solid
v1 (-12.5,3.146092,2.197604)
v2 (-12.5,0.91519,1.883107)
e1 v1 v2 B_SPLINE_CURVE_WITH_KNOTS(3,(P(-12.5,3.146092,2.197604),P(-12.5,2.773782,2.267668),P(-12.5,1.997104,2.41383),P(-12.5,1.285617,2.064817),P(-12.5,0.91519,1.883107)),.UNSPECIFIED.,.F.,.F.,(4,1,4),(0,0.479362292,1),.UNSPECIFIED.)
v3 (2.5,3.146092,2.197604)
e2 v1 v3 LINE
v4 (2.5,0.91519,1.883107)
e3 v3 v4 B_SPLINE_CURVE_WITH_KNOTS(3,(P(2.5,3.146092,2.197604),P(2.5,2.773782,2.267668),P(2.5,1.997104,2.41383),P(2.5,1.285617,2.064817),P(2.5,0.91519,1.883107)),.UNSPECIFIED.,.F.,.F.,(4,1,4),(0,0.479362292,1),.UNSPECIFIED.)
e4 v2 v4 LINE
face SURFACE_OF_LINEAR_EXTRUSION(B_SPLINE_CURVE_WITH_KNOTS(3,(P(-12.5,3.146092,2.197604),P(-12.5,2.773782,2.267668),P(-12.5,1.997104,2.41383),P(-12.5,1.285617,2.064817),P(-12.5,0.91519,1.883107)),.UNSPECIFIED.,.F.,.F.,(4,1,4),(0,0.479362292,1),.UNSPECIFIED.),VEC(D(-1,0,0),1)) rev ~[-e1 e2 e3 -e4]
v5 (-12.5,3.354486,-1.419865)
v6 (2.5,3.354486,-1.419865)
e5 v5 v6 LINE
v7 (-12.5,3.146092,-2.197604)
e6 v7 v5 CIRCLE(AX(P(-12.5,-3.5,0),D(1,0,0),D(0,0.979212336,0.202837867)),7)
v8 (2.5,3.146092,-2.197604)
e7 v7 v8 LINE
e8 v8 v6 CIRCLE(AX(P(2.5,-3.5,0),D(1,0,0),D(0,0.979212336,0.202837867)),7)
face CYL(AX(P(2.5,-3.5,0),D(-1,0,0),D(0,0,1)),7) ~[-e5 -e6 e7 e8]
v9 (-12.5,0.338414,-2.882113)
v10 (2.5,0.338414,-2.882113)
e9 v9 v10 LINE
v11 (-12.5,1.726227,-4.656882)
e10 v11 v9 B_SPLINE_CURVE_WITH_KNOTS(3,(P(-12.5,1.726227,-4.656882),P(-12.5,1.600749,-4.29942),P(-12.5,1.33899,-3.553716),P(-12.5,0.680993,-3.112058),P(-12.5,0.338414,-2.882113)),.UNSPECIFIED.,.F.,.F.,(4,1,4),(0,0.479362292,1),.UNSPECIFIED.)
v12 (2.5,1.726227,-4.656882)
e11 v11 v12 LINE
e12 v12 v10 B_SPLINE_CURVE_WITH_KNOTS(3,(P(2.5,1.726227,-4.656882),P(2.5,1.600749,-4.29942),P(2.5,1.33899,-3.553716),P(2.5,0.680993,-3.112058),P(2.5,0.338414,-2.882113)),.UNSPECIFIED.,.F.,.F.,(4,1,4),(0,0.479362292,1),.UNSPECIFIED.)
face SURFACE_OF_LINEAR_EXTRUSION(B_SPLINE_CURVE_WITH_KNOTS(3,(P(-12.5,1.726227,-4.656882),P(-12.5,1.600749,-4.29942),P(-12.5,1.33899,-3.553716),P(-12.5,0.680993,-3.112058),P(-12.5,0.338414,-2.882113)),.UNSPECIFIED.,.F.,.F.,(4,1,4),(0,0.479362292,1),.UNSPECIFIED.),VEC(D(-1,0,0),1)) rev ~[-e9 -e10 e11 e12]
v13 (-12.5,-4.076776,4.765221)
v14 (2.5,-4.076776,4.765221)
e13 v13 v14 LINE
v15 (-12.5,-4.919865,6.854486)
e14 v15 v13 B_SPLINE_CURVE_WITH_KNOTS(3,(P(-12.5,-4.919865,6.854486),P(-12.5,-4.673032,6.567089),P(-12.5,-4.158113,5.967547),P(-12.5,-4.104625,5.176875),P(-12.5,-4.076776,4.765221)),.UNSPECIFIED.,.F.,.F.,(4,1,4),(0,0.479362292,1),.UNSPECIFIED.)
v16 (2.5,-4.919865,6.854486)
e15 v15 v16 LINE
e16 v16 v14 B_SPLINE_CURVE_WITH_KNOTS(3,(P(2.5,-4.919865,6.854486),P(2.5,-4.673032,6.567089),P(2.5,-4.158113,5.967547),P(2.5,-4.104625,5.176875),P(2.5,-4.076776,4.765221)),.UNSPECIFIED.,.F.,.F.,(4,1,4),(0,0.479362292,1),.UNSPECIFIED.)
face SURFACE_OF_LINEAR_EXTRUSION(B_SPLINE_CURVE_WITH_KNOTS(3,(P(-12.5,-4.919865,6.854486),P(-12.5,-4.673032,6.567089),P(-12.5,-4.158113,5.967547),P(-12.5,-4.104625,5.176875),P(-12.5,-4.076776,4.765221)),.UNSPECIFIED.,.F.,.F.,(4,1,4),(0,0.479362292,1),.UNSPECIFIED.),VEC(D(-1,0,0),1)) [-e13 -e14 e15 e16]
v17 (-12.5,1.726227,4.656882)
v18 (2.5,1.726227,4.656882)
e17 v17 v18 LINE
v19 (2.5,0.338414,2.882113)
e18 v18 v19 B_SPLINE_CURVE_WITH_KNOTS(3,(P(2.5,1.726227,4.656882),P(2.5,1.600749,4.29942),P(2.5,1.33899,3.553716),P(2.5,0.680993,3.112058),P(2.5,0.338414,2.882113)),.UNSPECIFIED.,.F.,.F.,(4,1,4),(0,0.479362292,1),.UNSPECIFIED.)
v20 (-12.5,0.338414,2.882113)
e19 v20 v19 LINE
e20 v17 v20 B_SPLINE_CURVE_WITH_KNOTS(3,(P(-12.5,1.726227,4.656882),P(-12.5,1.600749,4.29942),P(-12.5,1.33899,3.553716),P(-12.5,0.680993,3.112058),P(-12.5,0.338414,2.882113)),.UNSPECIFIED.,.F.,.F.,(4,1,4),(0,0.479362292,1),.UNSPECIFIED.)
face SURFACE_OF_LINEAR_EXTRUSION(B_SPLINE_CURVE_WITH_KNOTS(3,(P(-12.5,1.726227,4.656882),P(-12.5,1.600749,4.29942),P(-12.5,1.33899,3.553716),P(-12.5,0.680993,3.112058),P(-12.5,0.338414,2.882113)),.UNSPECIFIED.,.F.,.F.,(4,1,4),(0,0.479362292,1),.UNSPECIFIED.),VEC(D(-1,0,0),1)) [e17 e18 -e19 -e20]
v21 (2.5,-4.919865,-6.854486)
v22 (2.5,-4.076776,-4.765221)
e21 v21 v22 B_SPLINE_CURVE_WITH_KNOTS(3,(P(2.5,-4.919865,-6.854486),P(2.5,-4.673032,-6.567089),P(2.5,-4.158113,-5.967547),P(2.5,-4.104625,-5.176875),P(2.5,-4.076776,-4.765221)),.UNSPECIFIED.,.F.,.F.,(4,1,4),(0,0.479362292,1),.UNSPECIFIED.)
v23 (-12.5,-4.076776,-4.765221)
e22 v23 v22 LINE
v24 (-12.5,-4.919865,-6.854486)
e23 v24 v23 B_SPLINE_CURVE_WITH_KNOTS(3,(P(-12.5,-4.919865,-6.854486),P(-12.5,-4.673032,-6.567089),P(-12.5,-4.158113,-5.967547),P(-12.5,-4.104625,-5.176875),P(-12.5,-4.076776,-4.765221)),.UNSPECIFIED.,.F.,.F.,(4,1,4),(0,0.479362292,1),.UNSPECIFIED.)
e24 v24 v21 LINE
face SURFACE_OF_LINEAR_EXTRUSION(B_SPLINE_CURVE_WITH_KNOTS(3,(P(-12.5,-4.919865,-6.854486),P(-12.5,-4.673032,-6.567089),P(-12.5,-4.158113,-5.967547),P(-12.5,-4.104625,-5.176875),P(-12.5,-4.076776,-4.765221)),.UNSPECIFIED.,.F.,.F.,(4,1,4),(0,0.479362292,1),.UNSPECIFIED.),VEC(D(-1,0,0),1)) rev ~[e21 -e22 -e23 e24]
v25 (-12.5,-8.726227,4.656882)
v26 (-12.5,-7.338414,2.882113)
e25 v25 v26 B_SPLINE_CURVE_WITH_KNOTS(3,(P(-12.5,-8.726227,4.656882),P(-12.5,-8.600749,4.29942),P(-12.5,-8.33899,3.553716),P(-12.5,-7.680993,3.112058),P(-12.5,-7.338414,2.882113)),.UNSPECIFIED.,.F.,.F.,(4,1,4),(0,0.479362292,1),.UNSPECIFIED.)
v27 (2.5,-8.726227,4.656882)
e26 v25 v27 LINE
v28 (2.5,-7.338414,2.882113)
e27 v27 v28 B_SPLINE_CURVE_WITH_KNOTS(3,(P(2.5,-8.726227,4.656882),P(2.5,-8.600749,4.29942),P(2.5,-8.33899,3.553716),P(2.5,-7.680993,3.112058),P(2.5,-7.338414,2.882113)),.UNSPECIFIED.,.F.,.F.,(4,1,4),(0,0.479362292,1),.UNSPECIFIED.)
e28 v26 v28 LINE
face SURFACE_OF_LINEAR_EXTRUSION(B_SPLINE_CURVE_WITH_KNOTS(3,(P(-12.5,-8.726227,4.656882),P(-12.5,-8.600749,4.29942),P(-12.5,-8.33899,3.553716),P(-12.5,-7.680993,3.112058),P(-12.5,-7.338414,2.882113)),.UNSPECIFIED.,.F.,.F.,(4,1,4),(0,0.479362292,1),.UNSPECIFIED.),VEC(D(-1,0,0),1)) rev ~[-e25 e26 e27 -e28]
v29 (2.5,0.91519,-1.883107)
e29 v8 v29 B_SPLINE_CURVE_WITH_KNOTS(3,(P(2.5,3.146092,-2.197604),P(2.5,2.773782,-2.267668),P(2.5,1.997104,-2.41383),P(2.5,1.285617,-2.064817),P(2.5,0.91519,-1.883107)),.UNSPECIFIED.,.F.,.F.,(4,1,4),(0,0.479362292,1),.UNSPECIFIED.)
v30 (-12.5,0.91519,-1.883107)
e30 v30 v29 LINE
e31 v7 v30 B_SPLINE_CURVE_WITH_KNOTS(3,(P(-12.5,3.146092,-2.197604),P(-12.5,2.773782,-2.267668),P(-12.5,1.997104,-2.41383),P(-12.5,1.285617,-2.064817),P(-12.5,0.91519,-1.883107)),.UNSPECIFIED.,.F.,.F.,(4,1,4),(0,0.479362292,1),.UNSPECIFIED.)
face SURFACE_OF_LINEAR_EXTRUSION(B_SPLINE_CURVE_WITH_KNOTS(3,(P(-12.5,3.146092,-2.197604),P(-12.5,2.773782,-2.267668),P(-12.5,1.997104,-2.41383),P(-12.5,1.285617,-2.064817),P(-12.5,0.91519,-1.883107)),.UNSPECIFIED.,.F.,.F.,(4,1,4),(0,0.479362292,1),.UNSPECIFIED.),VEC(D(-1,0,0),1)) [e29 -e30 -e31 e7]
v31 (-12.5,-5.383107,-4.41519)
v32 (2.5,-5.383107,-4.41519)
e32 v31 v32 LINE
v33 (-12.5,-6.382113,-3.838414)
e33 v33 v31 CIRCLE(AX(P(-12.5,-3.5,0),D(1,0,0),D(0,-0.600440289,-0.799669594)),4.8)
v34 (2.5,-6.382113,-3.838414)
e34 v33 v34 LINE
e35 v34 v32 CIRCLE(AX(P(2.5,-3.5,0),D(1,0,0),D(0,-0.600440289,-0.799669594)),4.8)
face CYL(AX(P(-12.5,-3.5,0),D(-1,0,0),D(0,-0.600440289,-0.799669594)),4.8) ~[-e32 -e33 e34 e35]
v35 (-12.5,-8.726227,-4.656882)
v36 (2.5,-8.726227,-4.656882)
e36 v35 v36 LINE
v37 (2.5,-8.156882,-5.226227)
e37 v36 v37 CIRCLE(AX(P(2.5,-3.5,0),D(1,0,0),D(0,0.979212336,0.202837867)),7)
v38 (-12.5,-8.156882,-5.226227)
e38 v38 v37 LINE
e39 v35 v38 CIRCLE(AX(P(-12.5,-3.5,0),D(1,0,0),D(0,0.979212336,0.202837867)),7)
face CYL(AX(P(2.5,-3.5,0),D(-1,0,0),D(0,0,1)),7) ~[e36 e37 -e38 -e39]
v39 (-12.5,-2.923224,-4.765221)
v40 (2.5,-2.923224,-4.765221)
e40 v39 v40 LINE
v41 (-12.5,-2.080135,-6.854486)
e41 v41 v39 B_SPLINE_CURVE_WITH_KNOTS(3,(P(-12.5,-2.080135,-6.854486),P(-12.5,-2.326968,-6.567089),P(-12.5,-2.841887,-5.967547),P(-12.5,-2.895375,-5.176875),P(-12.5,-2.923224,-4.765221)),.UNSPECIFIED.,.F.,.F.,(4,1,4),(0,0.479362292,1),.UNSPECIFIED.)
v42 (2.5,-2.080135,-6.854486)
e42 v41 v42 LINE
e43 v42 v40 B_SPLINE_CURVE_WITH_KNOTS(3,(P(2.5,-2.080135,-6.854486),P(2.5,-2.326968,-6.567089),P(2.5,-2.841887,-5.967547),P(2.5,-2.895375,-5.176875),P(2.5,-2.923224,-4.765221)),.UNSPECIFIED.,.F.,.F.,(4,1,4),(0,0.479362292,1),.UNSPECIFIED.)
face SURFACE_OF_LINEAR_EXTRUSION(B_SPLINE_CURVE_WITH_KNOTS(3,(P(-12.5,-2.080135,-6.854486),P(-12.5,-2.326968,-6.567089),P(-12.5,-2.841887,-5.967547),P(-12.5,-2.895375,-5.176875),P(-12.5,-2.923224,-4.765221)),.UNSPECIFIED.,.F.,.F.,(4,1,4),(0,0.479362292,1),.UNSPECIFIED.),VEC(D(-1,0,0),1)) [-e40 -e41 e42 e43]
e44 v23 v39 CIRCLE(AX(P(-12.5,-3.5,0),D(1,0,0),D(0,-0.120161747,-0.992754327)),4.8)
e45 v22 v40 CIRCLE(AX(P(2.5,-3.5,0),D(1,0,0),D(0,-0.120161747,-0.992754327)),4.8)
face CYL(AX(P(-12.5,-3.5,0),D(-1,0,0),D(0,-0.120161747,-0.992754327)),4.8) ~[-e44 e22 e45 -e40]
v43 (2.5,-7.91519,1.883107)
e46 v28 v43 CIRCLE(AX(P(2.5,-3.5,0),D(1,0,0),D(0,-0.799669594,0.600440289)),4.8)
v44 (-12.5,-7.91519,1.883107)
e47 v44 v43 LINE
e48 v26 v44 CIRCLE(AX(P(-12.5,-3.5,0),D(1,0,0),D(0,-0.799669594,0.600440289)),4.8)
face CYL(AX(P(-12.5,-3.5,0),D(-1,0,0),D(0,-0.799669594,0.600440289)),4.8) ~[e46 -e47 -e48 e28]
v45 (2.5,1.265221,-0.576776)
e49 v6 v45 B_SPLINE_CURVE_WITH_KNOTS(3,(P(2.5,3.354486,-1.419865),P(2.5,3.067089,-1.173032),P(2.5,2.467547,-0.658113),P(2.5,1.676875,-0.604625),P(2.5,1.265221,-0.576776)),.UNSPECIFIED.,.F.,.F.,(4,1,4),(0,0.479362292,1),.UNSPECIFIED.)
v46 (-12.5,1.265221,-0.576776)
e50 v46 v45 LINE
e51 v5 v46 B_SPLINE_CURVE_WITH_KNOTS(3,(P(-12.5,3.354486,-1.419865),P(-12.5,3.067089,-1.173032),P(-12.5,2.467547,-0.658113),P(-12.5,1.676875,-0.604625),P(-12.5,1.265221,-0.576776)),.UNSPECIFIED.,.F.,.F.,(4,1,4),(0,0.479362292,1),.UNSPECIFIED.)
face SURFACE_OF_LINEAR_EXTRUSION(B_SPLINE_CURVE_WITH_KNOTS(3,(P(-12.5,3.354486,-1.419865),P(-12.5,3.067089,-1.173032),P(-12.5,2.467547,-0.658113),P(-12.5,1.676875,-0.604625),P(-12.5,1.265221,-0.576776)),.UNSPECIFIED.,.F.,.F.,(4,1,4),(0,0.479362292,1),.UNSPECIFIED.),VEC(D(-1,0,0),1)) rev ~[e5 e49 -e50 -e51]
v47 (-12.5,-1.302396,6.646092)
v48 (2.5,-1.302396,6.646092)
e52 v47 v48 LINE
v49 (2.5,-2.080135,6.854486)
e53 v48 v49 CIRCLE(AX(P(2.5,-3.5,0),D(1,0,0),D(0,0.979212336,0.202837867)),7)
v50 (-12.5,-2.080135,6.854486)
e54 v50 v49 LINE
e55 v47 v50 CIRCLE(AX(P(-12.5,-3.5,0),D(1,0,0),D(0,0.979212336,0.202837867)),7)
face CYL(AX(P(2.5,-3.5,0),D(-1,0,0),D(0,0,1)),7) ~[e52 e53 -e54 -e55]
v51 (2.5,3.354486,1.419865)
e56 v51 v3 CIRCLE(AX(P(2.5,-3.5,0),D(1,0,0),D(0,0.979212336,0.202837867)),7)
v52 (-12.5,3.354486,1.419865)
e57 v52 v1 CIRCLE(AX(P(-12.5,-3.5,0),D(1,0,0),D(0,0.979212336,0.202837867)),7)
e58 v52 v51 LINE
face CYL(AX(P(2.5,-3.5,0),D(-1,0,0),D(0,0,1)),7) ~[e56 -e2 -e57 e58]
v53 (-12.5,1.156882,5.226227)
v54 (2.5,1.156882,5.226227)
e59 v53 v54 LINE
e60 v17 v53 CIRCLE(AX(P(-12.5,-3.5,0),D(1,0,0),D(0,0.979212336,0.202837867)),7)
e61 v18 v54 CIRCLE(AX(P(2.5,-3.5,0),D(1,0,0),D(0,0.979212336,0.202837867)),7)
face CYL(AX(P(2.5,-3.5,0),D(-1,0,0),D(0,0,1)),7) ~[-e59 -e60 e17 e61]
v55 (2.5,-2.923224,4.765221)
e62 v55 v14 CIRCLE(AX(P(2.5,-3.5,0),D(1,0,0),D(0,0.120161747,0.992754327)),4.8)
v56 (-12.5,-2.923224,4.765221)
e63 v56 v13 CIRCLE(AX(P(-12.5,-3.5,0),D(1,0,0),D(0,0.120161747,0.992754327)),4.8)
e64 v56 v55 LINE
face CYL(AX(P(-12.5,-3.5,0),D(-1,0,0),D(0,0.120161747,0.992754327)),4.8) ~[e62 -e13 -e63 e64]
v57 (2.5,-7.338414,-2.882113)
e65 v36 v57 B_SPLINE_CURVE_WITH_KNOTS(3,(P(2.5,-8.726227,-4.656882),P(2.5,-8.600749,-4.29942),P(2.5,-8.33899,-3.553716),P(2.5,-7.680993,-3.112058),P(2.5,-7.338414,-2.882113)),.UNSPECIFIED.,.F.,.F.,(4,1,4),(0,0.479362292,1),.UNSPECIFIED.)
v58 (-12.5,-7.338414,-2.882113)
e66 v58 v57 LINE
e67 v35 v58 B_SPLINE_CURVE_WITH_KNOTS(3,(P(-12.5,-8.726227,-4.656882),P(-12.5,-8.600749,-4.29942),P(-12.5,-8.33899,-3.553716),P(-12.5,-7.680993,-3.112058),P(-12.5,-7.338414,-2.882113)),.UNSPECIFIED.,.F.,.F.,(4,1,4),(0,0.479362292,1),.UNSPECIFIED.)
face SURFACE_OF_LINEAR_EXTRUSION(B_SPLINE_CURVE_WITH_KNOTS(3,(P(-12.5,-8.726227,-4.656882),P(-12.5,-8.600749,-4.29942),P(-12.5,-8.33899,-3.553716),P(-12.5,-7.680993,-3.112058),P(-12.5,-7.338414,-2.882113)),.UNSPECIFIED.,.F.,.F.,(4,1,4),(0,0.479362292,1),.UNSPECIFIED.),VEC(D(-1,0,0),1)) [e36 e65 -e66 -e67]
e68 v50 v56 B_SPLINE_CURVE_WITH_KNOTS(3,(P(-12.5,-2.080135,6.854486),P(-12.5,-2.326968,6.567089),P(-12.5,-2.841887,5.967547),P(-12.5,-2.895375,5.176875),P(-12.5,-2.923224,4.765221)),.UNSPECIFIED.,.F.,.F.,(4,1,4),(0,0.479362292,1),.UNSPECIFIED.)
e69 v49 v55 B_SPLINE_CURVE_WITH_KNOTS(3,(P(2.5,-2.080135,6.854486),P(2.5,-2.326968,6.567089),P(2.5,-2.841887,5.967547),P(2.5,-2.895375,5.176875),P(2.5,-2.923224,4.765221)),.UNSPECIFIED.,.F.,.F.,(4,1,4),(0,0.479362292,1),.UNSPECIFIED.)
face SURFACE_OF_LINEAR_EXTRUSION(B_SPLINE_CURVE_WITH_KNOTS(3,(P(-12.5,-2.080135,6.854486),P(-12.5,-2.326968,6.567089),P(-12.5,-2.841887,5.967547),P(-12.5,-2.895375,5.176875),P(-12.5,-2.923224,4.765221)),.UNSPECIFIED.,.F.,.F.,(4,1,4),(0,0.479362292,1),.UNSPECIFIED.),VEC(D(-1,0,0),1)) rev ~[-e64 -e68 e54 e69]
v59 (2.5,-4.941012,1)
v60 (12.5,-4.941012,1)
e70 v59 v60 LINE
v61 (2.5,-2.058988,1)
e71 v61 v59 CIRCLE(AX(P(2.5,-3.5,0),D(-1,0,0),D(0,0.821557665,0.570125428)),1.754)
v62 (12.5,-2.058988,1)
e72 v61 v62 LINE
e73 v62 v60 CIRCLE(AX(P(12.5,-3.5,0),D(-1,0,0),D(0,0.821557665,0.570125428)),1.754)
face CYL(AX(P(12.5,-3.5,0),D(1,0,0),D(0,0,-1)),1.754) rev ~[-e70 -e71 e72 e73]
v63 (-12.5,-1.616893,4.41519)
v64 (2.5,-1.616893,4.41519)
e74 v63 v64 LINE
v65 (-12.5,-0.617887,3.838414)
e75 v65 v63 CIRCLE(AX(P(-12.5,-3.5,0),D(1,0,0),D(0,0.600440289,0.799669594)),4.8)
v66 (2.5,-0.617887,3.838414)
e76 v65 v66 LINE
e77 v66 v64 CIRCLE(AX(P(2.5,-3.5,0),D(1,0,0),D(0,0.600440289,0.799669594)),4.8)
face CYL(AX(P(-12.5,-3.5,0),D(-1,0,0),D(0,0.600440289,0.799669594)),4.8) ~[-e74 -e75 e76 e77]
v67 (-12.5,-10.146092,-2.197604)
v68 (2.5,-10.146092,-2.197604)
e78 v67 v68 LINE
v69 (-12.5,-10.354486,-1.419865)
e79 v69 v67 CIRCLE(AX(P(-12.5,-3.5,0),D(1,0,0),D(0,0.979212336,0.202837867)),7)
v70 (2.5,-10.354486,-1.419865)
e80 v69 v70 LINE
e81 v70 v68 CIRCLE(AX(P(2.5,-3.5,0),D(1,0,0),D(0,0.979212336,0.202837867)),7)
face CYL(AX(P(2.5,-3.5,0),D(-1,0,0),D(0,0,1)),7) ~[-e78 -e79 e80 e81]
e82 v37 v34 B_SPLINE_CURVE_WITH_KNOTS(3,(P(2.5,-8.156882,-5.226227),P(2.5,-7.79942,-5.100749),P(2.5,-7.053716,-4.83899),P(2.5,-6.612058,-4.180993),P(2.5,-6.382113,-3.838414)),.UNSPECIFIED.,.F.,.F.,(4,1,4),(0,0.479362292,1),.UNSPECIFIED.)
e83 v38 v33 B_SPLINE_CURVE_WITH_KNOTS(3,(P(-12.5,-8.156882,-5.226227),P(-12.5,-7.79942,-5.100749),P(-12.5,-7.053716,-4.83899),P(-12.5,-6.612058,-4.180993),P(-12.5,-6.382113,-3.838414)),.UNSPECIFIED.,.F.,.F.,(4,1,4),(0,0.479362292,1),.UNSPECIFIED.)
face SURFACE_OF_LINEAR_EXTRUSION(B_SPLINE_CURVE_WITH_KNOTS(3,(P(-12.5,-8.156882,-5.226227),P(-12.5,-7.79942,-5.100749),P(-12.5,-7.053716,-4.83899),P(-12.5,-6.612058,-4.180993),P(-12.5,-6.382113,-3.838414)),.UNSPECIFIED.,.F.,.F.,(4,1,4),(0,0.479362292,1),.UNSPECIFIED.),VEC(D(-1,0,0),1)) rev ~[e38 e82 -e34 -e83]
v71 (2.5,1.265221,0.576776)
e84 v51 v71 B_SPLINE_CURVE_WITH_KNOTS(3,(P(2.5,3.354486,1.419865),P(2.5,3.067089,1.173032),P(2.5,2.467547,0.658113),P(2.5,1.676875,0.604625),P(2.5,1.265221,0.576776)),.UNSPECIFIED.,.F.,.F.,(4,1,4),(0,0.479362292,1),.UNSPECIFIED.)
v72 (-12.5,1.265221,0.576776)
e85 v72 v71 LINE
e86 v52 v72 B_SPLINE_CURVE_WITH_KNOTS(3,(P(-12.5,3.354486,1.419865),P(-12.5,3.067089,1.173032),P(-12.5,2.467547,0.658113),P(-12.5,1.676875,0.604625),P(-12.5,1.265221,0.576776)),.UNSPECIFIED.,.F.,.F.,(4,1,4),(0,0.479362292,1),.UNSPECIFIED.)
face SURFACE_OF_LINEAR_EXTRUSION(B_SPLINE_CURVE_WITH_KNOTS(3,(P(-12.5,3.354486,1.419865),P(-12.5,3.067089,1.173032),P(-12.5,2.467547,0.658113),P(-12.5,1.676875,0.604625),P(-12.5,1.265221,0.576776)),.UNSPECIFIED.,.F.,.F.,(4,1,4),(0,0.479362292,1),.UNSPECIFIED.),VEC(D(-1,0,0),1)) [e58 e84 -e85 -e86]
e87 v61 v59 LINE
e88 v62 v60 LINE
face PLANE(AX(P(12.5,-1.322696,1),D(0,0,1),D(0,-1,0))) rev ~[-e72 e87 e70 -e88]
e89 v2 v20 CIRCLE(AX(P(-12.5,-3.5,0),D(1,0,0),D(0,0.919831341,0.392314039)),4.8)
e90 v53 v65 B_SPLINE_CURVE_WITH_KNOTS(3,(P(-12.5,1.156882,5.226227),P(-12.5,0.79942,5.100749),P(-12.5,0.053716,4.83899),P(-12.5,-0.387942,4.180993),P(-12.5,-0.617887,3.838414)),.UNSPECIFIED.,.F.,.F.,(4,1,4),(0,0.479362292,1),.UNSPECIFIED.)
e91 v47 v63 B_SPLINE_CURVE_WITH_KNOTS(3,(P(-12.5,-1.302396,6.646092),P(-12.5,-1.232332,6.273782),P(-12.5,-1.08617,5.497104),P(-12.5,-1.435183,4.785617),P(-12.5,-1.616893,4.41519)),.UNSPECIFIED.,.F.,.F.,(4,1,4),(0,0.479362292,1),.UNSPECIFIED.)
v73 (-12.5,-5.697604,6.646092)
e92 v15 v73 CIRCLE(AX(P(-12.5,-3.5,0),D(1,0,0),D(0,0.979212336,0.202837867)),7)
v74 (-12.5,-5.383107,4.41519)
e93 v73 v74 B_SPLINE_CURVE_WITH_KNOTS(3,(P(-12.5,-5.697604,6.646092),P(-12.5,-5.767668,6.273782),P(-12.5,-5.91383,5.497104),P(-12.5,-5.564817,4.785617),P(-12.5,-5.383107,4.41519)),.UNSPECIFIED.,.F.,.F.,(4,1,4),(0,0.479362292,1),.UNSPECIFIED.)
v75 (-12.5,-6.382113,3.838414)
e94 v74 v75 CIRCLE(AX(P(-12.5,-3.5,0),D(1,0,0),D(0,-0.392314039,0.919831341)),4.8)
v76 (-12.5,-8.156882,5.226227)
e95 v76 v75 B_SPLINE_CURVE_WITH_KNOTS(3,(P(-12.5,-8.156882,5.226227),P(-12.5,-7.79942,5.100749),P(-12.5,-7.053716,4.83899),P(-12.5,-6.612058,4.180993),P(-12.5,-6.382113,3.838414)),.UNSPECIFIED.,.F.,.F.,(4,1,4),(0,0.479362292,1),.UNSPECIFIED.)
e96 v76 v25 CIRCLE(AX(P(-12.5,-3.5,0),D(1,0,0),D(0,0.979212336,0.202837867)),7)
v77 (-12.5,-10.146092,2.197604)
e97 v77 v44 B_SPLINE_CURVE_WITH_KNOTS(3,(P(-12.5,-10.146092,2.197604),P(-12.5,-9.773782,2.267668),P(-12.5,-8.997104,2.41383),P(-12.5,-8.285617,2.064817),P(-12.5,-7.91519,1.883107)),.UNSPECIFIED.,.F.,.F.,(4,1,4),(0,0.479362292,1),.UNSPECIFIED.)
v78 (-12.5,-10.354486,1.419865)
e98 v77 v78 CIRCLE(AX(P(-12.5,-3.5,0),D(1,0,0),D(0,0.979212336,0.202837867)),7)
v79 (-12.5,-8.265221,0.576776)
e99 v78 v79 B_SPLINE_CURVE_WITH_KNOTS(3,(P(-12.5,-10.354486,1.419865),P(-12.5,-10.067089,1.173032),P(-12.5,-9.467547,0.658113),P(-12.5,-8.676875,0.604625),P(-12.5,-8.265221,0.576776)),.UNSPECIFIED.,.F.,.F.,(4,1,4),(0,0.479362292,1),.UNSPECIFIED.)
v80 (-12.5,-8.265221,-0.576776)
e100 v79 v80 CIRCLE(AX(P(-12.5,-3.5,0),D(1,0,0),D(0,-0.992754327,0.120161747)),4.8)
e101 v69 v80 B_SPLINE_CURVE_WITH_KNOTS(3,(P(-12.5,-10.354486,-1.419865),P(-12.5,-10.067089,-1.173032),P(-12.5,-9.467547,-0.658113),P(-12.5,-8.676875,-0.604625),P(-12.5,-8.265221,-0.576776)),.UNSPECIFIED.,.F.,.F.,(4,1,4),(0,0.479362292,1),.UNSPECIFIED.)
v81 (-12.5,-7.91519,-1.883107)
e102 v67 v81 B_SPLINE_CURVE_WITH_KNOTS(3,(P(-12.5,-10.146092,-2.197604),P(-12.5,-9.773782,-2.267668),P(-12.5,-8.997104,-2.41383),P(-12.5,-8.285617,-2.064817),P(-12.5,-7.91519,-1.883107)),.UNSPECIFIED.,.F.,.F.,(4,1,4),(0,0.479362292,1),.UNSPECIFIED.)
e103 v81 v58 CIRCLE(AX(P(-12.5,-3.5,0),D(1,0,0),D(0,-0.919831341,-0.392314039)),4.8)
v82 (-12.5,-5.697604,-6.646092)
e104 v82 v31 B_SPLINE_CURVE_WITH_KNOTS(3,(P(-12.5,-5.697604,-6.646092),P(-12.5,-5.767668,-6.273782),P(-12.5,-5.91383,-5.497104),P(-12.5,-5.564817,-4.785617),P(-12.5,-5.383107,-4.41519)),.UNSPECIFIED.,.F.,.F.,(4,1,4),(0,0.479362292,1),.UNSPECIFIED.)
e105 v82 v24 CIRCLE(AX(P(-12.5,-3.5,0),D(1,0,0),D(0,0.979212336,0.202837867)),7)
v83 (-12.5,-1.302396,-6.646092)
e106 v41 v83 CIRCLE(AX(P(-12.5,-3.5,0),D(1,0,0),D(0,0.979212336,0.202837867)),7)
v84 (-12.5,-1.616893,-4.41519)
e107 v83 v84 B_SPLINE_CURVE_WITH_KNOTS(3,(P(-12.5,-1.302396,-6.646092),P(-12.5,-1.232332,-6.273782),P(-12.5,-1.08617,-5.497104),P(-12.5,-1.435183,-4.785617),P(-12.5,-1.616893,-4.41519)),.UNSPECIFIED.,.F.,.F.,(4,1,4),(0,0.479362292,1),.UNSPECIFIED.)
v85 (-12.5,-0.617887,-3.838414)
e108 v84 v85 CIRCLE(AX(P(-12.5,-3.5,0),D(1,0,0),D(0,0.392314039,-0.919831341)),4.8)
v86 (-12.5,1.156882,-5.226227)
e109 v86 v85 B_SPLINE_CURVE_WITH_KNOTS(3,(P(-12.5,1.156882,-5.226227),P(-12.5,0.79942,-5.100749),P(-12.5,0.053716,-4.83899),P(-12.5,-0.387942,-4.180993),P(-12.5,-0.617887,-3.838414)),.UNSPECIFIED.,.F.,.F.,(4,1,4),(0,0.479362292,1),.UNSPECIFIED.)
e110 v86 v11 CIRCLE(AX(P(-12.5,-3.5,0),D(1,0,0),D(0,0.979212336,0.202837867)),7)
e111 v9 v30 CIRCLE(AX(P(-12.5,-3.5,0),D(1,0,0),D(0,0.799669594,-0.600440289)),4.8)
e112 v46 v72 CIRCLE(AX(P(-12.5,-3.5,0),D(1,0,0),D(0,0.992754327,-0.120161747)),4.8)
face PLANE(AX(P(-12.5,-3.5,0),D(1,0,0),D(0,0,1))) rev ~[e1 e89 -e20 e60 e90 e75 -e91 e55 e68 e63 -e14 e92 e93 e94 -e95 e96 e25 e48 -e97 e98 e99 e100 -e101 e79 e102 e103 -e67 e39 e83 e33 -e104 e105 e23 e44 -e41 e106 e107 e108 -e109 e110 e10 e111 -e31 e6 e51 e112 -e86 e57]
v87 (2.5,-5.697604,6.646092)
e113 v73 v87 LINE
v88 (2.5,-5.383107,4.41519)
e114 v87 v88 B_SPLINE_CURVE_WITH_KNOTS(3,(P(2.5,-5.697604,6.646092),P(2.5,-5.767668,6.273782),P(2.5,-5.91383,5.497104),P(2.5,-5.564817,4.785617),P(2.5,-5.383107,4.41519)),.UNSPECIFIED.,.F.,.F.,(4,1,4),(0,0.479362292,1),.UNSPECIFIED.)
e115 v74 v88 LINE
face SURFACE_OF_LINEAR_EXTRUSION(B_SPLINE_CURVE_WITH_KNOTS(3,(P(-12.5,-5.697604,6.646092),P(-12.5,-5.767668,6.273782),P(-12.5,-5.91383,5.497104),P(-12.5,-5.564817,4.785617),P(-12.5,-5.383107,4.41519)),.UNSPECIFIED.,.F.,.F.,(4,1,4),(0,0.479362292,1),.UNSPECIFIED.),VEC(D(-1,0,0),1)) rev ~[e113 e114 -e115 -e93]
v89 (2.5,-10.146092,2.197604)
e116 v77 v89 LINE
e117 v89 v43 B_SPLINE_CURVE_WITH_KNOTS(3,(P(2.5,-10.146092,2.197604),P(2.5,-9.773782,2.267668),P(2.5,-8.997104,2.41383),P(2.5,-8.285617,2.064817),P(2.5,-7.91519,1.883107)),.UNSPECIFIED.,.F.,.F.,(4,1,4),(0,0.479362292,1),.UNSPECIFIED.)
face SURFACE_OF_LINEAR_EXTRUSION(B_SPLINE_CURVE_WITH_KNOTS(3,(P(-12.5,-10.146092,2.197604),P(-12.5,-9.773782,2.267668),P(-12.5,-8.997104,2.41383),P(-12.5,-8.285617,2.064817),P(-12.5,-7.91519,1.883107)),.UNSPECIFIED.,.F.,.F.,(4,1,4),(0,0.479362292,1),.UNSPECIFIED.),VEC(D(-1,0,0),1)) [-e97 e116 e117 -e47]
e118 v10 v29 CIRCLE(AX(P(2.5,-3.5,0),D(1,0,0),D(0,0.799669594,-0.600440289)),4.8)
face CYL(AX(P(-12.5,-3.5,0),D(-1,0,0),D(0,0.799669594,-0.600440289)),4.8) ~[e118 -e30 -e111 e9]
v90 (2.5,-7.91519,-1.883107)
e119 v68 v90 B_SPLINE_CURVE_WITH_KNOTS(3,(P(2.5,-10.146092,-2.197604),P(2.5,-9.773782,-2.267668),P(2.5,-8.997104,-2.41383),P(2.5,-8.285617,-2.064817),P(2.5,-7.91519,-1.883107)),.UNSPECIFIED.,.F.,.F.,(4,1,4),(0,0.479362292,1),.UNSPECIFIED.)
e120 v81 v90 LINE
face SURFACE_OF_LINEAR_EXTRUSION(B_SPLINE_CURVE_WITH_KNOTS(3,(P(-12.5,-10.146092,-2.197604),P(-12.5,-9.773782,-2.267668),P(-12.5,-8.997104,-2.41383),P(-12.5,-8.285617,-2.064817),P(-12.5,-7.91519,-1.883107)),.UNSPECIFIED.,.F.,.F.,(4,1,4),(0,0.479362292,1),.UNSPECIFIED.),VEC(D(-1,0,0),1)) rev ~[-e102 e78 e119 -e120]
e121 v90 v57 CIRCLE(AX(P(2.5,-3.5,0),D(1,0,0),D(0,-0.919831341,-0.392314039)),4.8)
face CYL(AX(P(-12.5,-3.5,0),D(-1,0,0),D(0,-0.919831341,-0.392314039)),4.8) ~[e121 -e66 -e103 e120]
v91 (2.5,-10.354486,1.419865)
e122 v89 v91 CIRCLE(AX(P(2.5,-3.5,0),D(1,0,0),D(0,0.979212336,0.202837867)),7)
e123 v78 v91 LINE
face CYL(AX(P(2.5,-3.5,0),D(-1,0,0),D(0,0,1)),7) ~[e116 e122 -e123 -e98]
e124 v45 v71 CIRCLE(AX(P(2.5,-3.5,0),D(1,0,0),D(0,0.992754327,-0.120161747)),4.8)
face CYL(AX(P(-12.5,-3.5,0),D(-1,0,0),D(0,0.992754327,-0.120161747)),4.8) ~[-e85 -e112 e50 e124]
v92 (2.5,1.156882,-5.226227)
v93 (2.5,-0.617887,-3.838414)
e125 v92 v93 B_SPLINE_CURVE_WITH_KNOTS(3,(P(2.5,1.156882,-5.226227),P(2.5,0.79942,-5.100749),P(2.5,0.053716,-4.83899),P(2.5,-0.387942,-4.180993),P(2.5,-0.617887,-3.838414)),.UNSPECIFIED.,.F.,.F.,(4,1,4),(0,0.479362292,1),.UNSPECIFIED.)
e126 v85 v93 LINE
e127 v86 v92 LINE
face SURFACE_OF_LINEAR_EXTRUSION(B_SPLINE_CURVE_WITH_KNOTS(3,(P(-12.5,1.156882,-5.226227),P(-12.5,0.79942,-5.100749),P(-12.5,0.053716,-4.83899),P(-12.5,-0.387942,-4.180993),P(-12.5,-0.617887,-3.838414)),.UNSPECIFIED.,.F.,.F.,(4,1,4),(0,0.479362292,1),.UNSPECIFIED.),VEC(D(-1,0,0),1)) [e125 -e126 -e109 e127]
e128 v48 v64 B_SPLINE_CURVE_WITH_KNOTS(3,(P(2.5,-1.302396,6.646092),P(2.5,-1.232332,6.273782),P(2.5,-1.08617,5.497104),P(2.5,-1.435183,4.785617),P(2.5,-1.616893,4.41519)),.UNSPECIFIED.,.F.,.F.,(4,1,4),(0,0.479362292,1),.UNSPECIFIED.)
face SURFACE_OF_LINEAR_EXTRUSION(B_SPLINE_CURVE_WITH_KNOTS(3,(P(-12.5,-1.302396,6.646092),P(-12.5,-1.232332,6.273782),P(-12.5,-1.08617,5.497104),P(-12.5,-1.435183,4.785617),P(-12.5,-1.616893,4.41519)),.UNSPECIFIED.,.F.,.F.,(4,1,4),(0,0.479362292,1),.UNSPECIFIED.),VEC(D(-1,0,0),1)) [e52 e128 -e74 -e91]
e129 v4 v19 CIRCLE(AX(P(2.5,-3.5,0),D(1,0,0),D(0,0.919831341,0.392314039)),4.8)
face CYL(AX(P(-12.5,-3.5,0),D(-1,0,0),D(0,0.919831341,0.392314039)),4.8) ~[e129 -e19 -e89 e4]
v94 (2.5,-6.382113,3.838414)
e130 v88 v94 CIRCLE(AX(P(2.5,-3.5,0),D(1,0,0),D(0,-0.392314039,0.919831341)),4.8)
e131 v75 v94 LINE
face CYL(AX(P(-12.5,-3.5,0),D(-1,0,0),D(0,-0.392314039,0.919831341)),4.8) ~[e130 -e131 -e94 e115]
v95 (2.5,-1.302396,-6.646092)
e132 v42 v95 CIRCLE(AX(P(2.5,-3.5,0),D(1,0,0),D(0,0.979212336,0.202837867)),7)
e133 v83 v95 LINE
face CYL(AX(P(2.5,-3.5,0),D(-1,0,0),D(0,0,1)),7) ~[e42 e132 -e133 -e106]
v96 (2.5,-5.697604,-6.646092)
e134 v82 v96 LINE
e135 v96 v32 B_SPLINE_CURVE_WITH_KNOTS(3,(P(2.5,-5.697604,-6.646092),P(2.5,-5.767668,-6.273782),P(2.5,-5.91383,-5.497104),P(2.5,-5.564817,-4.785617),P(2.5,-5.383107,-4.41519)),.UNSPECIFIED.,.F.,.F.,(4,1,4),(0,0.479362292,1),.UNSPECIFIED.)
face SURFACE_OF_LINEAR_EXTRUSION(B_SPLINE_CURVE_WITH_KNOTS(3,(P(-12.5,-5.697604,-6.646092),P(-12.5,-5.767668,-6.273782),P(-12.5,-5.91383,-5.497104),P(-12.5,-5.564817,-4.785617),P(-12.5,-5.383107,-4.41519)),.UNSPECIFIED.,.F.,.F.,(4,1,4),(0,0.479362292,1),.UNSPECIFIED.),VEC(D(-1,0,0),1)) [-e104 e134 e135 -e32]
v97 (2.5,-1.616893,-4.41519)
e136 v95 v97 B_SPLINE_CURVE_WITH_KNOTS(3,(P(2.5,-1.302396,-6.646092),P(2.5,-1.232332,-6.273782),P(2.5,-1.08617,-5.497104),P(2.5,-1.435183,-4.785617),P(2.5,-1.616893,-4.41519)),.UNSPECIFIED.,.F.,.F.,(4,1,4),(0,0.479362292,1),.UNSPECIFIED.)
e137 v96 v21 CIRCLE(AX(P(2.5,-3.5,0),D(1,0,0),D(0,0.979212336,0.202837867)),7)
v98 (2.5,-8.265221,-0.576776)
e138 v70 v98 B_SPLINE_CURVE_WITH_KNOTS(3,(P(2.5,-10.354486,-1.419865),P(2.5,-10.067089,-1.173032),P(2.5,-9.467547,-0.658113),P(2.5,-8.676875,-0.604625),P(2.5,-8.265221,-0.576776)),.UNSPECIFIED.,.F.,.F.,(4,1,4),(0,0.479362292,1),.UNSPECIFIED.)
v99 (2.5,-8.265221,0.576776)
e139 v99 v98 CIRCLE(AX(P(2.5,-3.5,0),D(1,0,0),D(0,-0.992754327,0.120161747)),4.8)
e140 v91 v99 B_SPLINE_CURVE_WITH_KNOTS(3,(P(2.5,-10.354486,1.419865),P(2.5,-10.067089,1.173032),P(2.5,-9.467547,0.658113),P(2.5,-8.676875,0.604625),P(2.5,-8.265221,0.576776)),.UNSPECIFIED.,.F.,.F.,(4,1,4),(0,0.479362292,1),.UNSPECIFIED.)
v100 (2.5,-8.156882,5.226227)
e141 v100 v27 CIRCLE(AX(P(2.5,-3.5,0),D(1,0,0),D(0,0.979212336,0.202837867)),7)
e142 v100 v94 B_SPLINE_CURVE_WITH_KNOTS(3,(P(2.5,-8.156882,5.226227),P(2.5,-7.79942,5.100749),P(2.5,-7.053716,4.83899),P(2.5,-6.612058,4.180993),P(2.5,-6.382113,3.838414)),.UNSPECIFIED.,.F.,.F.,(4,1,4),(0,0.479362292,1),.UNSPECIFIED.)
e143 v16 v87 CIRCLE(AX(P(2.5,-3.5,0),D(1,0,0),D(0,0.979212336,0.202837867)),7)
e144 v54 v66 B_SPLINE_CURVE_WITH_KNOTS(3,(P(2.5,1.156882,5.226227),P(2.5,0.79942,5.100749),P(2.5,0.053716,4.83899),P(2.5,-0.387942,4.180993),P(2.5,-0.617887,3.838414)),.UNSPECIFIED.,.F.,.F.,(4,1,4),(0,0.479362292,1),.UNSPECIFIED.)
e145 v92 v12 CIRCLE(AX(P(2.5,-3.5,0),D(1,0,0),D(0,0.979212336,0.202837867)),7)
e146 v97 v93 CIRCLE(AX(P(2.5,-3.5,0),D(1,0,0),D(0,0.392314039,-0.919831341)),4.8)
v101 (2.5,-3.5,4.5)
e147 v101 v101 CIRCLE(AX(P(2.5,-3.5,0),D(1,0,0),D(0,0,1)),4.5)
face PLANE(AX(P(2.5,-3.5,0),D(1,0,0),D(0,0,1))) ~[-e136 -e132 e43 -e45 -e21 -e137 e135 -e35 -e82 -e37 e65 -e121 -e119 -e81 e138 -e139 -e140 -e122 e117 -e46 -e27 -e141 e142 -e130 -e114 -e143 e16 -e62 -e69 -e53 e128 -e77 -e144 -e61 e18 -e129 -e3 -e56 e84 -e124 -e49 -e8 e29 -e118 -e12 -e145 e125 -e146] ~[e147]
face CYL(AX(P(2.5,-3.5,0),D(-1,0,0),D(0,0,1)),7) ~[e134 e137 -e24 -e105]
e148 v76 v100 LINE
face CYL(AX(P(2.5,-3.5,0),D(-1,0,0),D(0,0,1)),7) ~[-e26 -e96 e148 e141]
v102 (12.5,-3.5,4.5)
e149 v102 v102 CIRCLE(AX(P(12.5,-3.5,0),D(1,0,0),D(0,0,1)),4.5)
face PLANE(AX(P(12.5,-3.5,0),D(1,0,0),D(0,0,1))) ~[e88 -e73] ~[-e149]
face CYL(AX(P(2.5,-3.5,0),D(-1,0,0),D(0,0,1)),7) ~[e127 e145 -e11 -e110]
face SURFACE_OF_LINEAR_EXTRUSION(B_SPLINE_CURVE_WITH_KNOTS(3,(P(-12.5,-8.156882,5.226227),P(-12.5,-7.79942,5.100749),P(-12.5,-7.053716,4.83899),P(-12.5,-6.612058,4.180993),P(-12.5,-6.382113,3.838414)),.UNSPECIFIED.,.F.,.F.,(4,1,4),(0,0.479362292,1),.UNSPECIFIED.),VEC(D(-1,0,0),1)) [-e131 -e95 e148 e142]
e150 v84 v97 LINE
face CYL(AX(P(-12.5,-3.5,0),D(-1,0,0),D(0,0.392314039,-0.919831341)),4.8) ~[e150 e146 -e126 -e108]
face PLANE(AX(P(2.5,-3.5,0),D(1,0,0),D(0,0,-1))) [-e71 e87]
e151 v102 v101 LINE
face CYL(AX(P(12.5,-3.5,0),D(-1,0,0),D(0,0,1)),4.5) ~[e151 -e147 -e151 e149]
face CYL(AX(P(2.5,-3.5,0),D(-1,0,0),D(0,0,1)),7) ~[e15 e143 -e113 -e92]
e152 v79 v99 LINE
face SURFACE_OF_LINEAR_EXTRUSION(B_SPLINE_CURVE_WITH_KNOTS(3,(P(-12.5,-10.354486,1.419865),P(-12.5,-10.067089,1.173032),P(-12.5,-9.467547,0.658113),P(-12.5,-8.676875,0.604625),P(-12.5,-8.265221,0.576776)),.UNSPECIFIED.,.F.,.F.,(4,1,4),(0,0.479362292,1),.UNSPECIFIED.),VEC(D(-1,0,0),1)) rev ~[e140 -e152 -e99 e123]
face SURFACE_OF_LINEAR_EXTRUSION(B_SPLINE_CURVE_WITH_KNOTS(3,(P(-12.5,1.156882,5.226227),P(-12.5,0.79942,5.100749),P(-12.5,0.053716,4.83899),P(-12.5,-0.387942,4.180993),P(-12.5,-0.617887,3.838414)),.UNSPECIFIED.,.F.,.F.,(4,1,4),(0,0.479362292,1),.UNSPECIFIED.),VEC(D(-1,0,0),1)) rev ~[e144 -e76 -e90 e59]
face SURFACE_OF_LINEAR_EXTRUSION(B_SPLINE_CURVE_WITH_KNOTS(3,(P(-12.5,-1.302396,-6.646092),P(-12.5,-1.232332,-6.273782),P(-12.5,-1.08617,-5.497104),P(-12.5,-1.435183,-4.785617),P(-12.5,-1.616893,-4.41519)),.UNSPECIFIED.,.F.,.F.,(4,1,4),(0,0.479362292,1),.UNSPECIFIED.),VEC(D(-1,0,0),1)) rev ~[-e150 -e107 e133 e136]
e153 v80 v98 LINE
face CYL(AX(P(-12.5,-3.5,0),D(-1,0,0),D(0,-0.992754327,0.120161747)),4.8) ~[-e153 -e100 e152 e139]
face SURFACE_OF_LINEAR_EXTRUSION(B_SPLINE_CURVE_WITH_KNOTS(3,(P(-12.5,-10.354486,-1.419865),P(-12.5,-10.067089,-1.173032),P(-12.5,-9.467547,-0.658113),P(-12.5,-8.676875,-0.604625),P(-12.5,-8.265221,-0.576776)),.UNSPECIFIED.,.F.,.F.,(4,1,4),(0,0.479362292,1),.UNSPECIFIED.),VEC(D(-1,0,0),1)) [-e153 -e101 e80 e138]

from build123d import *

# Parameters (mm, degrees)
KUGGLUCKA_DEPTH     = 15
CIRPATTERN_COUNT    = 12
SKETCH1_R           = 1.754
CUT_EXTRUDE1_DEPTH  = 10
BOSS_EXTRUDE1_DEPTH = 10


with BuildPart() as part:
    # Ritning 1 → Kugghjulsämne (revolve)
    with BuildSketch(Plane.XY, mode=Mode.PRIVATE) as kugghjuls_mne_sk:
        Polygon((12.5, 1), (2.5, 1), (2.5, 3.5), (-12.5, 3.5), (-12.5, -3.5), (12.5, -3.5), align=None)
    revolve(kugghjuls_mne_sk.sketch.rotate(Axis((-12.5, -3.5, 0), (1, 0, 0)), 90), axis=Axis((-12.5, -3.5, 0), (1, 0, 0)))

    # Ritning 2 → Kugglucka (cut)
    with BuildSketch(Plane.ZY.offset(12.5)):
        with BuildLine():
            Line((1.419865071, 3.354486354), (0, 4.774351425))
            Line((0, 4.774351425), (-1.419865071, 3.354486354))
            add(Edge.make_bspline(
                [(-1.419865071, 3.354486354), (-1.173032372, 3.067088657), (-0.658113481, 2.467546927), (-0.604624671, 1.6768746), (-0.576776379, 1.265220772)],
                knots=[0, 0, 0, 0, 0.479362292, 1, 1, 1, 1], degree=3))
            ThreePointArc((-0.576776379, 1.265220772), (0, 1.3), (0.576776379, 1.265220772))
            add(Edge.make_bspline(
                [(1.419865071, 3.354486354), (1.173032372, 3.067088657), (0.658113481, 2.467546927), (0.604624671, 1.6768746), (0.576776379, 1.265220772)],
                knots=[0, 0, 0, 0, 0.479362292, 1, 1, 1, 1], degree=3))
        make_face()
    kugglucka = extrude(amount=-KUGGLUCKA_DEPTH, mode=Mode.SUBTRACT)

    # CirPattern: Kugglucka ×12 about axis
    cirpattern_axis = Axis((-12.5, -3.5, 0), (-1, 0, 0))
    for i in range(1, CIRPATTERN_COUNT):
        add(kugglucka.rotate(cirpattern_axis, i * 360 / CIRPATTERN_COUNT), mode=Mode.SUBTRACT)

    # Sketch1 → Cut-Extrude1 (cut)
    with BuildSketch(Plane(origin=(12.5, 0, 0), x_dir=(0, 0, -1), z_dir=(1, 0, 0))):
        with Locations((0, -3.5)):
            Circle(SKETCH1_R)
    extrude(amount=-CUT_EXTRUDE1_DEPTH, mode=Mode.SUBTRACT)

    # Sketch3 → Boss-Extrude1 (add)
    with BuildSketch(Plane(origin=(12.5, 0, 0), x_dir=(0, 0, -1), z_dir=(1, 0, 0))):
        Polygon((-1, -1.322696024), (-1, -6.208852365), (-3.330635242, -3.367112903), align=None)
    extrude(amount=-BOSS_EXTRUDE1_DEPTH)


solid = part.part
